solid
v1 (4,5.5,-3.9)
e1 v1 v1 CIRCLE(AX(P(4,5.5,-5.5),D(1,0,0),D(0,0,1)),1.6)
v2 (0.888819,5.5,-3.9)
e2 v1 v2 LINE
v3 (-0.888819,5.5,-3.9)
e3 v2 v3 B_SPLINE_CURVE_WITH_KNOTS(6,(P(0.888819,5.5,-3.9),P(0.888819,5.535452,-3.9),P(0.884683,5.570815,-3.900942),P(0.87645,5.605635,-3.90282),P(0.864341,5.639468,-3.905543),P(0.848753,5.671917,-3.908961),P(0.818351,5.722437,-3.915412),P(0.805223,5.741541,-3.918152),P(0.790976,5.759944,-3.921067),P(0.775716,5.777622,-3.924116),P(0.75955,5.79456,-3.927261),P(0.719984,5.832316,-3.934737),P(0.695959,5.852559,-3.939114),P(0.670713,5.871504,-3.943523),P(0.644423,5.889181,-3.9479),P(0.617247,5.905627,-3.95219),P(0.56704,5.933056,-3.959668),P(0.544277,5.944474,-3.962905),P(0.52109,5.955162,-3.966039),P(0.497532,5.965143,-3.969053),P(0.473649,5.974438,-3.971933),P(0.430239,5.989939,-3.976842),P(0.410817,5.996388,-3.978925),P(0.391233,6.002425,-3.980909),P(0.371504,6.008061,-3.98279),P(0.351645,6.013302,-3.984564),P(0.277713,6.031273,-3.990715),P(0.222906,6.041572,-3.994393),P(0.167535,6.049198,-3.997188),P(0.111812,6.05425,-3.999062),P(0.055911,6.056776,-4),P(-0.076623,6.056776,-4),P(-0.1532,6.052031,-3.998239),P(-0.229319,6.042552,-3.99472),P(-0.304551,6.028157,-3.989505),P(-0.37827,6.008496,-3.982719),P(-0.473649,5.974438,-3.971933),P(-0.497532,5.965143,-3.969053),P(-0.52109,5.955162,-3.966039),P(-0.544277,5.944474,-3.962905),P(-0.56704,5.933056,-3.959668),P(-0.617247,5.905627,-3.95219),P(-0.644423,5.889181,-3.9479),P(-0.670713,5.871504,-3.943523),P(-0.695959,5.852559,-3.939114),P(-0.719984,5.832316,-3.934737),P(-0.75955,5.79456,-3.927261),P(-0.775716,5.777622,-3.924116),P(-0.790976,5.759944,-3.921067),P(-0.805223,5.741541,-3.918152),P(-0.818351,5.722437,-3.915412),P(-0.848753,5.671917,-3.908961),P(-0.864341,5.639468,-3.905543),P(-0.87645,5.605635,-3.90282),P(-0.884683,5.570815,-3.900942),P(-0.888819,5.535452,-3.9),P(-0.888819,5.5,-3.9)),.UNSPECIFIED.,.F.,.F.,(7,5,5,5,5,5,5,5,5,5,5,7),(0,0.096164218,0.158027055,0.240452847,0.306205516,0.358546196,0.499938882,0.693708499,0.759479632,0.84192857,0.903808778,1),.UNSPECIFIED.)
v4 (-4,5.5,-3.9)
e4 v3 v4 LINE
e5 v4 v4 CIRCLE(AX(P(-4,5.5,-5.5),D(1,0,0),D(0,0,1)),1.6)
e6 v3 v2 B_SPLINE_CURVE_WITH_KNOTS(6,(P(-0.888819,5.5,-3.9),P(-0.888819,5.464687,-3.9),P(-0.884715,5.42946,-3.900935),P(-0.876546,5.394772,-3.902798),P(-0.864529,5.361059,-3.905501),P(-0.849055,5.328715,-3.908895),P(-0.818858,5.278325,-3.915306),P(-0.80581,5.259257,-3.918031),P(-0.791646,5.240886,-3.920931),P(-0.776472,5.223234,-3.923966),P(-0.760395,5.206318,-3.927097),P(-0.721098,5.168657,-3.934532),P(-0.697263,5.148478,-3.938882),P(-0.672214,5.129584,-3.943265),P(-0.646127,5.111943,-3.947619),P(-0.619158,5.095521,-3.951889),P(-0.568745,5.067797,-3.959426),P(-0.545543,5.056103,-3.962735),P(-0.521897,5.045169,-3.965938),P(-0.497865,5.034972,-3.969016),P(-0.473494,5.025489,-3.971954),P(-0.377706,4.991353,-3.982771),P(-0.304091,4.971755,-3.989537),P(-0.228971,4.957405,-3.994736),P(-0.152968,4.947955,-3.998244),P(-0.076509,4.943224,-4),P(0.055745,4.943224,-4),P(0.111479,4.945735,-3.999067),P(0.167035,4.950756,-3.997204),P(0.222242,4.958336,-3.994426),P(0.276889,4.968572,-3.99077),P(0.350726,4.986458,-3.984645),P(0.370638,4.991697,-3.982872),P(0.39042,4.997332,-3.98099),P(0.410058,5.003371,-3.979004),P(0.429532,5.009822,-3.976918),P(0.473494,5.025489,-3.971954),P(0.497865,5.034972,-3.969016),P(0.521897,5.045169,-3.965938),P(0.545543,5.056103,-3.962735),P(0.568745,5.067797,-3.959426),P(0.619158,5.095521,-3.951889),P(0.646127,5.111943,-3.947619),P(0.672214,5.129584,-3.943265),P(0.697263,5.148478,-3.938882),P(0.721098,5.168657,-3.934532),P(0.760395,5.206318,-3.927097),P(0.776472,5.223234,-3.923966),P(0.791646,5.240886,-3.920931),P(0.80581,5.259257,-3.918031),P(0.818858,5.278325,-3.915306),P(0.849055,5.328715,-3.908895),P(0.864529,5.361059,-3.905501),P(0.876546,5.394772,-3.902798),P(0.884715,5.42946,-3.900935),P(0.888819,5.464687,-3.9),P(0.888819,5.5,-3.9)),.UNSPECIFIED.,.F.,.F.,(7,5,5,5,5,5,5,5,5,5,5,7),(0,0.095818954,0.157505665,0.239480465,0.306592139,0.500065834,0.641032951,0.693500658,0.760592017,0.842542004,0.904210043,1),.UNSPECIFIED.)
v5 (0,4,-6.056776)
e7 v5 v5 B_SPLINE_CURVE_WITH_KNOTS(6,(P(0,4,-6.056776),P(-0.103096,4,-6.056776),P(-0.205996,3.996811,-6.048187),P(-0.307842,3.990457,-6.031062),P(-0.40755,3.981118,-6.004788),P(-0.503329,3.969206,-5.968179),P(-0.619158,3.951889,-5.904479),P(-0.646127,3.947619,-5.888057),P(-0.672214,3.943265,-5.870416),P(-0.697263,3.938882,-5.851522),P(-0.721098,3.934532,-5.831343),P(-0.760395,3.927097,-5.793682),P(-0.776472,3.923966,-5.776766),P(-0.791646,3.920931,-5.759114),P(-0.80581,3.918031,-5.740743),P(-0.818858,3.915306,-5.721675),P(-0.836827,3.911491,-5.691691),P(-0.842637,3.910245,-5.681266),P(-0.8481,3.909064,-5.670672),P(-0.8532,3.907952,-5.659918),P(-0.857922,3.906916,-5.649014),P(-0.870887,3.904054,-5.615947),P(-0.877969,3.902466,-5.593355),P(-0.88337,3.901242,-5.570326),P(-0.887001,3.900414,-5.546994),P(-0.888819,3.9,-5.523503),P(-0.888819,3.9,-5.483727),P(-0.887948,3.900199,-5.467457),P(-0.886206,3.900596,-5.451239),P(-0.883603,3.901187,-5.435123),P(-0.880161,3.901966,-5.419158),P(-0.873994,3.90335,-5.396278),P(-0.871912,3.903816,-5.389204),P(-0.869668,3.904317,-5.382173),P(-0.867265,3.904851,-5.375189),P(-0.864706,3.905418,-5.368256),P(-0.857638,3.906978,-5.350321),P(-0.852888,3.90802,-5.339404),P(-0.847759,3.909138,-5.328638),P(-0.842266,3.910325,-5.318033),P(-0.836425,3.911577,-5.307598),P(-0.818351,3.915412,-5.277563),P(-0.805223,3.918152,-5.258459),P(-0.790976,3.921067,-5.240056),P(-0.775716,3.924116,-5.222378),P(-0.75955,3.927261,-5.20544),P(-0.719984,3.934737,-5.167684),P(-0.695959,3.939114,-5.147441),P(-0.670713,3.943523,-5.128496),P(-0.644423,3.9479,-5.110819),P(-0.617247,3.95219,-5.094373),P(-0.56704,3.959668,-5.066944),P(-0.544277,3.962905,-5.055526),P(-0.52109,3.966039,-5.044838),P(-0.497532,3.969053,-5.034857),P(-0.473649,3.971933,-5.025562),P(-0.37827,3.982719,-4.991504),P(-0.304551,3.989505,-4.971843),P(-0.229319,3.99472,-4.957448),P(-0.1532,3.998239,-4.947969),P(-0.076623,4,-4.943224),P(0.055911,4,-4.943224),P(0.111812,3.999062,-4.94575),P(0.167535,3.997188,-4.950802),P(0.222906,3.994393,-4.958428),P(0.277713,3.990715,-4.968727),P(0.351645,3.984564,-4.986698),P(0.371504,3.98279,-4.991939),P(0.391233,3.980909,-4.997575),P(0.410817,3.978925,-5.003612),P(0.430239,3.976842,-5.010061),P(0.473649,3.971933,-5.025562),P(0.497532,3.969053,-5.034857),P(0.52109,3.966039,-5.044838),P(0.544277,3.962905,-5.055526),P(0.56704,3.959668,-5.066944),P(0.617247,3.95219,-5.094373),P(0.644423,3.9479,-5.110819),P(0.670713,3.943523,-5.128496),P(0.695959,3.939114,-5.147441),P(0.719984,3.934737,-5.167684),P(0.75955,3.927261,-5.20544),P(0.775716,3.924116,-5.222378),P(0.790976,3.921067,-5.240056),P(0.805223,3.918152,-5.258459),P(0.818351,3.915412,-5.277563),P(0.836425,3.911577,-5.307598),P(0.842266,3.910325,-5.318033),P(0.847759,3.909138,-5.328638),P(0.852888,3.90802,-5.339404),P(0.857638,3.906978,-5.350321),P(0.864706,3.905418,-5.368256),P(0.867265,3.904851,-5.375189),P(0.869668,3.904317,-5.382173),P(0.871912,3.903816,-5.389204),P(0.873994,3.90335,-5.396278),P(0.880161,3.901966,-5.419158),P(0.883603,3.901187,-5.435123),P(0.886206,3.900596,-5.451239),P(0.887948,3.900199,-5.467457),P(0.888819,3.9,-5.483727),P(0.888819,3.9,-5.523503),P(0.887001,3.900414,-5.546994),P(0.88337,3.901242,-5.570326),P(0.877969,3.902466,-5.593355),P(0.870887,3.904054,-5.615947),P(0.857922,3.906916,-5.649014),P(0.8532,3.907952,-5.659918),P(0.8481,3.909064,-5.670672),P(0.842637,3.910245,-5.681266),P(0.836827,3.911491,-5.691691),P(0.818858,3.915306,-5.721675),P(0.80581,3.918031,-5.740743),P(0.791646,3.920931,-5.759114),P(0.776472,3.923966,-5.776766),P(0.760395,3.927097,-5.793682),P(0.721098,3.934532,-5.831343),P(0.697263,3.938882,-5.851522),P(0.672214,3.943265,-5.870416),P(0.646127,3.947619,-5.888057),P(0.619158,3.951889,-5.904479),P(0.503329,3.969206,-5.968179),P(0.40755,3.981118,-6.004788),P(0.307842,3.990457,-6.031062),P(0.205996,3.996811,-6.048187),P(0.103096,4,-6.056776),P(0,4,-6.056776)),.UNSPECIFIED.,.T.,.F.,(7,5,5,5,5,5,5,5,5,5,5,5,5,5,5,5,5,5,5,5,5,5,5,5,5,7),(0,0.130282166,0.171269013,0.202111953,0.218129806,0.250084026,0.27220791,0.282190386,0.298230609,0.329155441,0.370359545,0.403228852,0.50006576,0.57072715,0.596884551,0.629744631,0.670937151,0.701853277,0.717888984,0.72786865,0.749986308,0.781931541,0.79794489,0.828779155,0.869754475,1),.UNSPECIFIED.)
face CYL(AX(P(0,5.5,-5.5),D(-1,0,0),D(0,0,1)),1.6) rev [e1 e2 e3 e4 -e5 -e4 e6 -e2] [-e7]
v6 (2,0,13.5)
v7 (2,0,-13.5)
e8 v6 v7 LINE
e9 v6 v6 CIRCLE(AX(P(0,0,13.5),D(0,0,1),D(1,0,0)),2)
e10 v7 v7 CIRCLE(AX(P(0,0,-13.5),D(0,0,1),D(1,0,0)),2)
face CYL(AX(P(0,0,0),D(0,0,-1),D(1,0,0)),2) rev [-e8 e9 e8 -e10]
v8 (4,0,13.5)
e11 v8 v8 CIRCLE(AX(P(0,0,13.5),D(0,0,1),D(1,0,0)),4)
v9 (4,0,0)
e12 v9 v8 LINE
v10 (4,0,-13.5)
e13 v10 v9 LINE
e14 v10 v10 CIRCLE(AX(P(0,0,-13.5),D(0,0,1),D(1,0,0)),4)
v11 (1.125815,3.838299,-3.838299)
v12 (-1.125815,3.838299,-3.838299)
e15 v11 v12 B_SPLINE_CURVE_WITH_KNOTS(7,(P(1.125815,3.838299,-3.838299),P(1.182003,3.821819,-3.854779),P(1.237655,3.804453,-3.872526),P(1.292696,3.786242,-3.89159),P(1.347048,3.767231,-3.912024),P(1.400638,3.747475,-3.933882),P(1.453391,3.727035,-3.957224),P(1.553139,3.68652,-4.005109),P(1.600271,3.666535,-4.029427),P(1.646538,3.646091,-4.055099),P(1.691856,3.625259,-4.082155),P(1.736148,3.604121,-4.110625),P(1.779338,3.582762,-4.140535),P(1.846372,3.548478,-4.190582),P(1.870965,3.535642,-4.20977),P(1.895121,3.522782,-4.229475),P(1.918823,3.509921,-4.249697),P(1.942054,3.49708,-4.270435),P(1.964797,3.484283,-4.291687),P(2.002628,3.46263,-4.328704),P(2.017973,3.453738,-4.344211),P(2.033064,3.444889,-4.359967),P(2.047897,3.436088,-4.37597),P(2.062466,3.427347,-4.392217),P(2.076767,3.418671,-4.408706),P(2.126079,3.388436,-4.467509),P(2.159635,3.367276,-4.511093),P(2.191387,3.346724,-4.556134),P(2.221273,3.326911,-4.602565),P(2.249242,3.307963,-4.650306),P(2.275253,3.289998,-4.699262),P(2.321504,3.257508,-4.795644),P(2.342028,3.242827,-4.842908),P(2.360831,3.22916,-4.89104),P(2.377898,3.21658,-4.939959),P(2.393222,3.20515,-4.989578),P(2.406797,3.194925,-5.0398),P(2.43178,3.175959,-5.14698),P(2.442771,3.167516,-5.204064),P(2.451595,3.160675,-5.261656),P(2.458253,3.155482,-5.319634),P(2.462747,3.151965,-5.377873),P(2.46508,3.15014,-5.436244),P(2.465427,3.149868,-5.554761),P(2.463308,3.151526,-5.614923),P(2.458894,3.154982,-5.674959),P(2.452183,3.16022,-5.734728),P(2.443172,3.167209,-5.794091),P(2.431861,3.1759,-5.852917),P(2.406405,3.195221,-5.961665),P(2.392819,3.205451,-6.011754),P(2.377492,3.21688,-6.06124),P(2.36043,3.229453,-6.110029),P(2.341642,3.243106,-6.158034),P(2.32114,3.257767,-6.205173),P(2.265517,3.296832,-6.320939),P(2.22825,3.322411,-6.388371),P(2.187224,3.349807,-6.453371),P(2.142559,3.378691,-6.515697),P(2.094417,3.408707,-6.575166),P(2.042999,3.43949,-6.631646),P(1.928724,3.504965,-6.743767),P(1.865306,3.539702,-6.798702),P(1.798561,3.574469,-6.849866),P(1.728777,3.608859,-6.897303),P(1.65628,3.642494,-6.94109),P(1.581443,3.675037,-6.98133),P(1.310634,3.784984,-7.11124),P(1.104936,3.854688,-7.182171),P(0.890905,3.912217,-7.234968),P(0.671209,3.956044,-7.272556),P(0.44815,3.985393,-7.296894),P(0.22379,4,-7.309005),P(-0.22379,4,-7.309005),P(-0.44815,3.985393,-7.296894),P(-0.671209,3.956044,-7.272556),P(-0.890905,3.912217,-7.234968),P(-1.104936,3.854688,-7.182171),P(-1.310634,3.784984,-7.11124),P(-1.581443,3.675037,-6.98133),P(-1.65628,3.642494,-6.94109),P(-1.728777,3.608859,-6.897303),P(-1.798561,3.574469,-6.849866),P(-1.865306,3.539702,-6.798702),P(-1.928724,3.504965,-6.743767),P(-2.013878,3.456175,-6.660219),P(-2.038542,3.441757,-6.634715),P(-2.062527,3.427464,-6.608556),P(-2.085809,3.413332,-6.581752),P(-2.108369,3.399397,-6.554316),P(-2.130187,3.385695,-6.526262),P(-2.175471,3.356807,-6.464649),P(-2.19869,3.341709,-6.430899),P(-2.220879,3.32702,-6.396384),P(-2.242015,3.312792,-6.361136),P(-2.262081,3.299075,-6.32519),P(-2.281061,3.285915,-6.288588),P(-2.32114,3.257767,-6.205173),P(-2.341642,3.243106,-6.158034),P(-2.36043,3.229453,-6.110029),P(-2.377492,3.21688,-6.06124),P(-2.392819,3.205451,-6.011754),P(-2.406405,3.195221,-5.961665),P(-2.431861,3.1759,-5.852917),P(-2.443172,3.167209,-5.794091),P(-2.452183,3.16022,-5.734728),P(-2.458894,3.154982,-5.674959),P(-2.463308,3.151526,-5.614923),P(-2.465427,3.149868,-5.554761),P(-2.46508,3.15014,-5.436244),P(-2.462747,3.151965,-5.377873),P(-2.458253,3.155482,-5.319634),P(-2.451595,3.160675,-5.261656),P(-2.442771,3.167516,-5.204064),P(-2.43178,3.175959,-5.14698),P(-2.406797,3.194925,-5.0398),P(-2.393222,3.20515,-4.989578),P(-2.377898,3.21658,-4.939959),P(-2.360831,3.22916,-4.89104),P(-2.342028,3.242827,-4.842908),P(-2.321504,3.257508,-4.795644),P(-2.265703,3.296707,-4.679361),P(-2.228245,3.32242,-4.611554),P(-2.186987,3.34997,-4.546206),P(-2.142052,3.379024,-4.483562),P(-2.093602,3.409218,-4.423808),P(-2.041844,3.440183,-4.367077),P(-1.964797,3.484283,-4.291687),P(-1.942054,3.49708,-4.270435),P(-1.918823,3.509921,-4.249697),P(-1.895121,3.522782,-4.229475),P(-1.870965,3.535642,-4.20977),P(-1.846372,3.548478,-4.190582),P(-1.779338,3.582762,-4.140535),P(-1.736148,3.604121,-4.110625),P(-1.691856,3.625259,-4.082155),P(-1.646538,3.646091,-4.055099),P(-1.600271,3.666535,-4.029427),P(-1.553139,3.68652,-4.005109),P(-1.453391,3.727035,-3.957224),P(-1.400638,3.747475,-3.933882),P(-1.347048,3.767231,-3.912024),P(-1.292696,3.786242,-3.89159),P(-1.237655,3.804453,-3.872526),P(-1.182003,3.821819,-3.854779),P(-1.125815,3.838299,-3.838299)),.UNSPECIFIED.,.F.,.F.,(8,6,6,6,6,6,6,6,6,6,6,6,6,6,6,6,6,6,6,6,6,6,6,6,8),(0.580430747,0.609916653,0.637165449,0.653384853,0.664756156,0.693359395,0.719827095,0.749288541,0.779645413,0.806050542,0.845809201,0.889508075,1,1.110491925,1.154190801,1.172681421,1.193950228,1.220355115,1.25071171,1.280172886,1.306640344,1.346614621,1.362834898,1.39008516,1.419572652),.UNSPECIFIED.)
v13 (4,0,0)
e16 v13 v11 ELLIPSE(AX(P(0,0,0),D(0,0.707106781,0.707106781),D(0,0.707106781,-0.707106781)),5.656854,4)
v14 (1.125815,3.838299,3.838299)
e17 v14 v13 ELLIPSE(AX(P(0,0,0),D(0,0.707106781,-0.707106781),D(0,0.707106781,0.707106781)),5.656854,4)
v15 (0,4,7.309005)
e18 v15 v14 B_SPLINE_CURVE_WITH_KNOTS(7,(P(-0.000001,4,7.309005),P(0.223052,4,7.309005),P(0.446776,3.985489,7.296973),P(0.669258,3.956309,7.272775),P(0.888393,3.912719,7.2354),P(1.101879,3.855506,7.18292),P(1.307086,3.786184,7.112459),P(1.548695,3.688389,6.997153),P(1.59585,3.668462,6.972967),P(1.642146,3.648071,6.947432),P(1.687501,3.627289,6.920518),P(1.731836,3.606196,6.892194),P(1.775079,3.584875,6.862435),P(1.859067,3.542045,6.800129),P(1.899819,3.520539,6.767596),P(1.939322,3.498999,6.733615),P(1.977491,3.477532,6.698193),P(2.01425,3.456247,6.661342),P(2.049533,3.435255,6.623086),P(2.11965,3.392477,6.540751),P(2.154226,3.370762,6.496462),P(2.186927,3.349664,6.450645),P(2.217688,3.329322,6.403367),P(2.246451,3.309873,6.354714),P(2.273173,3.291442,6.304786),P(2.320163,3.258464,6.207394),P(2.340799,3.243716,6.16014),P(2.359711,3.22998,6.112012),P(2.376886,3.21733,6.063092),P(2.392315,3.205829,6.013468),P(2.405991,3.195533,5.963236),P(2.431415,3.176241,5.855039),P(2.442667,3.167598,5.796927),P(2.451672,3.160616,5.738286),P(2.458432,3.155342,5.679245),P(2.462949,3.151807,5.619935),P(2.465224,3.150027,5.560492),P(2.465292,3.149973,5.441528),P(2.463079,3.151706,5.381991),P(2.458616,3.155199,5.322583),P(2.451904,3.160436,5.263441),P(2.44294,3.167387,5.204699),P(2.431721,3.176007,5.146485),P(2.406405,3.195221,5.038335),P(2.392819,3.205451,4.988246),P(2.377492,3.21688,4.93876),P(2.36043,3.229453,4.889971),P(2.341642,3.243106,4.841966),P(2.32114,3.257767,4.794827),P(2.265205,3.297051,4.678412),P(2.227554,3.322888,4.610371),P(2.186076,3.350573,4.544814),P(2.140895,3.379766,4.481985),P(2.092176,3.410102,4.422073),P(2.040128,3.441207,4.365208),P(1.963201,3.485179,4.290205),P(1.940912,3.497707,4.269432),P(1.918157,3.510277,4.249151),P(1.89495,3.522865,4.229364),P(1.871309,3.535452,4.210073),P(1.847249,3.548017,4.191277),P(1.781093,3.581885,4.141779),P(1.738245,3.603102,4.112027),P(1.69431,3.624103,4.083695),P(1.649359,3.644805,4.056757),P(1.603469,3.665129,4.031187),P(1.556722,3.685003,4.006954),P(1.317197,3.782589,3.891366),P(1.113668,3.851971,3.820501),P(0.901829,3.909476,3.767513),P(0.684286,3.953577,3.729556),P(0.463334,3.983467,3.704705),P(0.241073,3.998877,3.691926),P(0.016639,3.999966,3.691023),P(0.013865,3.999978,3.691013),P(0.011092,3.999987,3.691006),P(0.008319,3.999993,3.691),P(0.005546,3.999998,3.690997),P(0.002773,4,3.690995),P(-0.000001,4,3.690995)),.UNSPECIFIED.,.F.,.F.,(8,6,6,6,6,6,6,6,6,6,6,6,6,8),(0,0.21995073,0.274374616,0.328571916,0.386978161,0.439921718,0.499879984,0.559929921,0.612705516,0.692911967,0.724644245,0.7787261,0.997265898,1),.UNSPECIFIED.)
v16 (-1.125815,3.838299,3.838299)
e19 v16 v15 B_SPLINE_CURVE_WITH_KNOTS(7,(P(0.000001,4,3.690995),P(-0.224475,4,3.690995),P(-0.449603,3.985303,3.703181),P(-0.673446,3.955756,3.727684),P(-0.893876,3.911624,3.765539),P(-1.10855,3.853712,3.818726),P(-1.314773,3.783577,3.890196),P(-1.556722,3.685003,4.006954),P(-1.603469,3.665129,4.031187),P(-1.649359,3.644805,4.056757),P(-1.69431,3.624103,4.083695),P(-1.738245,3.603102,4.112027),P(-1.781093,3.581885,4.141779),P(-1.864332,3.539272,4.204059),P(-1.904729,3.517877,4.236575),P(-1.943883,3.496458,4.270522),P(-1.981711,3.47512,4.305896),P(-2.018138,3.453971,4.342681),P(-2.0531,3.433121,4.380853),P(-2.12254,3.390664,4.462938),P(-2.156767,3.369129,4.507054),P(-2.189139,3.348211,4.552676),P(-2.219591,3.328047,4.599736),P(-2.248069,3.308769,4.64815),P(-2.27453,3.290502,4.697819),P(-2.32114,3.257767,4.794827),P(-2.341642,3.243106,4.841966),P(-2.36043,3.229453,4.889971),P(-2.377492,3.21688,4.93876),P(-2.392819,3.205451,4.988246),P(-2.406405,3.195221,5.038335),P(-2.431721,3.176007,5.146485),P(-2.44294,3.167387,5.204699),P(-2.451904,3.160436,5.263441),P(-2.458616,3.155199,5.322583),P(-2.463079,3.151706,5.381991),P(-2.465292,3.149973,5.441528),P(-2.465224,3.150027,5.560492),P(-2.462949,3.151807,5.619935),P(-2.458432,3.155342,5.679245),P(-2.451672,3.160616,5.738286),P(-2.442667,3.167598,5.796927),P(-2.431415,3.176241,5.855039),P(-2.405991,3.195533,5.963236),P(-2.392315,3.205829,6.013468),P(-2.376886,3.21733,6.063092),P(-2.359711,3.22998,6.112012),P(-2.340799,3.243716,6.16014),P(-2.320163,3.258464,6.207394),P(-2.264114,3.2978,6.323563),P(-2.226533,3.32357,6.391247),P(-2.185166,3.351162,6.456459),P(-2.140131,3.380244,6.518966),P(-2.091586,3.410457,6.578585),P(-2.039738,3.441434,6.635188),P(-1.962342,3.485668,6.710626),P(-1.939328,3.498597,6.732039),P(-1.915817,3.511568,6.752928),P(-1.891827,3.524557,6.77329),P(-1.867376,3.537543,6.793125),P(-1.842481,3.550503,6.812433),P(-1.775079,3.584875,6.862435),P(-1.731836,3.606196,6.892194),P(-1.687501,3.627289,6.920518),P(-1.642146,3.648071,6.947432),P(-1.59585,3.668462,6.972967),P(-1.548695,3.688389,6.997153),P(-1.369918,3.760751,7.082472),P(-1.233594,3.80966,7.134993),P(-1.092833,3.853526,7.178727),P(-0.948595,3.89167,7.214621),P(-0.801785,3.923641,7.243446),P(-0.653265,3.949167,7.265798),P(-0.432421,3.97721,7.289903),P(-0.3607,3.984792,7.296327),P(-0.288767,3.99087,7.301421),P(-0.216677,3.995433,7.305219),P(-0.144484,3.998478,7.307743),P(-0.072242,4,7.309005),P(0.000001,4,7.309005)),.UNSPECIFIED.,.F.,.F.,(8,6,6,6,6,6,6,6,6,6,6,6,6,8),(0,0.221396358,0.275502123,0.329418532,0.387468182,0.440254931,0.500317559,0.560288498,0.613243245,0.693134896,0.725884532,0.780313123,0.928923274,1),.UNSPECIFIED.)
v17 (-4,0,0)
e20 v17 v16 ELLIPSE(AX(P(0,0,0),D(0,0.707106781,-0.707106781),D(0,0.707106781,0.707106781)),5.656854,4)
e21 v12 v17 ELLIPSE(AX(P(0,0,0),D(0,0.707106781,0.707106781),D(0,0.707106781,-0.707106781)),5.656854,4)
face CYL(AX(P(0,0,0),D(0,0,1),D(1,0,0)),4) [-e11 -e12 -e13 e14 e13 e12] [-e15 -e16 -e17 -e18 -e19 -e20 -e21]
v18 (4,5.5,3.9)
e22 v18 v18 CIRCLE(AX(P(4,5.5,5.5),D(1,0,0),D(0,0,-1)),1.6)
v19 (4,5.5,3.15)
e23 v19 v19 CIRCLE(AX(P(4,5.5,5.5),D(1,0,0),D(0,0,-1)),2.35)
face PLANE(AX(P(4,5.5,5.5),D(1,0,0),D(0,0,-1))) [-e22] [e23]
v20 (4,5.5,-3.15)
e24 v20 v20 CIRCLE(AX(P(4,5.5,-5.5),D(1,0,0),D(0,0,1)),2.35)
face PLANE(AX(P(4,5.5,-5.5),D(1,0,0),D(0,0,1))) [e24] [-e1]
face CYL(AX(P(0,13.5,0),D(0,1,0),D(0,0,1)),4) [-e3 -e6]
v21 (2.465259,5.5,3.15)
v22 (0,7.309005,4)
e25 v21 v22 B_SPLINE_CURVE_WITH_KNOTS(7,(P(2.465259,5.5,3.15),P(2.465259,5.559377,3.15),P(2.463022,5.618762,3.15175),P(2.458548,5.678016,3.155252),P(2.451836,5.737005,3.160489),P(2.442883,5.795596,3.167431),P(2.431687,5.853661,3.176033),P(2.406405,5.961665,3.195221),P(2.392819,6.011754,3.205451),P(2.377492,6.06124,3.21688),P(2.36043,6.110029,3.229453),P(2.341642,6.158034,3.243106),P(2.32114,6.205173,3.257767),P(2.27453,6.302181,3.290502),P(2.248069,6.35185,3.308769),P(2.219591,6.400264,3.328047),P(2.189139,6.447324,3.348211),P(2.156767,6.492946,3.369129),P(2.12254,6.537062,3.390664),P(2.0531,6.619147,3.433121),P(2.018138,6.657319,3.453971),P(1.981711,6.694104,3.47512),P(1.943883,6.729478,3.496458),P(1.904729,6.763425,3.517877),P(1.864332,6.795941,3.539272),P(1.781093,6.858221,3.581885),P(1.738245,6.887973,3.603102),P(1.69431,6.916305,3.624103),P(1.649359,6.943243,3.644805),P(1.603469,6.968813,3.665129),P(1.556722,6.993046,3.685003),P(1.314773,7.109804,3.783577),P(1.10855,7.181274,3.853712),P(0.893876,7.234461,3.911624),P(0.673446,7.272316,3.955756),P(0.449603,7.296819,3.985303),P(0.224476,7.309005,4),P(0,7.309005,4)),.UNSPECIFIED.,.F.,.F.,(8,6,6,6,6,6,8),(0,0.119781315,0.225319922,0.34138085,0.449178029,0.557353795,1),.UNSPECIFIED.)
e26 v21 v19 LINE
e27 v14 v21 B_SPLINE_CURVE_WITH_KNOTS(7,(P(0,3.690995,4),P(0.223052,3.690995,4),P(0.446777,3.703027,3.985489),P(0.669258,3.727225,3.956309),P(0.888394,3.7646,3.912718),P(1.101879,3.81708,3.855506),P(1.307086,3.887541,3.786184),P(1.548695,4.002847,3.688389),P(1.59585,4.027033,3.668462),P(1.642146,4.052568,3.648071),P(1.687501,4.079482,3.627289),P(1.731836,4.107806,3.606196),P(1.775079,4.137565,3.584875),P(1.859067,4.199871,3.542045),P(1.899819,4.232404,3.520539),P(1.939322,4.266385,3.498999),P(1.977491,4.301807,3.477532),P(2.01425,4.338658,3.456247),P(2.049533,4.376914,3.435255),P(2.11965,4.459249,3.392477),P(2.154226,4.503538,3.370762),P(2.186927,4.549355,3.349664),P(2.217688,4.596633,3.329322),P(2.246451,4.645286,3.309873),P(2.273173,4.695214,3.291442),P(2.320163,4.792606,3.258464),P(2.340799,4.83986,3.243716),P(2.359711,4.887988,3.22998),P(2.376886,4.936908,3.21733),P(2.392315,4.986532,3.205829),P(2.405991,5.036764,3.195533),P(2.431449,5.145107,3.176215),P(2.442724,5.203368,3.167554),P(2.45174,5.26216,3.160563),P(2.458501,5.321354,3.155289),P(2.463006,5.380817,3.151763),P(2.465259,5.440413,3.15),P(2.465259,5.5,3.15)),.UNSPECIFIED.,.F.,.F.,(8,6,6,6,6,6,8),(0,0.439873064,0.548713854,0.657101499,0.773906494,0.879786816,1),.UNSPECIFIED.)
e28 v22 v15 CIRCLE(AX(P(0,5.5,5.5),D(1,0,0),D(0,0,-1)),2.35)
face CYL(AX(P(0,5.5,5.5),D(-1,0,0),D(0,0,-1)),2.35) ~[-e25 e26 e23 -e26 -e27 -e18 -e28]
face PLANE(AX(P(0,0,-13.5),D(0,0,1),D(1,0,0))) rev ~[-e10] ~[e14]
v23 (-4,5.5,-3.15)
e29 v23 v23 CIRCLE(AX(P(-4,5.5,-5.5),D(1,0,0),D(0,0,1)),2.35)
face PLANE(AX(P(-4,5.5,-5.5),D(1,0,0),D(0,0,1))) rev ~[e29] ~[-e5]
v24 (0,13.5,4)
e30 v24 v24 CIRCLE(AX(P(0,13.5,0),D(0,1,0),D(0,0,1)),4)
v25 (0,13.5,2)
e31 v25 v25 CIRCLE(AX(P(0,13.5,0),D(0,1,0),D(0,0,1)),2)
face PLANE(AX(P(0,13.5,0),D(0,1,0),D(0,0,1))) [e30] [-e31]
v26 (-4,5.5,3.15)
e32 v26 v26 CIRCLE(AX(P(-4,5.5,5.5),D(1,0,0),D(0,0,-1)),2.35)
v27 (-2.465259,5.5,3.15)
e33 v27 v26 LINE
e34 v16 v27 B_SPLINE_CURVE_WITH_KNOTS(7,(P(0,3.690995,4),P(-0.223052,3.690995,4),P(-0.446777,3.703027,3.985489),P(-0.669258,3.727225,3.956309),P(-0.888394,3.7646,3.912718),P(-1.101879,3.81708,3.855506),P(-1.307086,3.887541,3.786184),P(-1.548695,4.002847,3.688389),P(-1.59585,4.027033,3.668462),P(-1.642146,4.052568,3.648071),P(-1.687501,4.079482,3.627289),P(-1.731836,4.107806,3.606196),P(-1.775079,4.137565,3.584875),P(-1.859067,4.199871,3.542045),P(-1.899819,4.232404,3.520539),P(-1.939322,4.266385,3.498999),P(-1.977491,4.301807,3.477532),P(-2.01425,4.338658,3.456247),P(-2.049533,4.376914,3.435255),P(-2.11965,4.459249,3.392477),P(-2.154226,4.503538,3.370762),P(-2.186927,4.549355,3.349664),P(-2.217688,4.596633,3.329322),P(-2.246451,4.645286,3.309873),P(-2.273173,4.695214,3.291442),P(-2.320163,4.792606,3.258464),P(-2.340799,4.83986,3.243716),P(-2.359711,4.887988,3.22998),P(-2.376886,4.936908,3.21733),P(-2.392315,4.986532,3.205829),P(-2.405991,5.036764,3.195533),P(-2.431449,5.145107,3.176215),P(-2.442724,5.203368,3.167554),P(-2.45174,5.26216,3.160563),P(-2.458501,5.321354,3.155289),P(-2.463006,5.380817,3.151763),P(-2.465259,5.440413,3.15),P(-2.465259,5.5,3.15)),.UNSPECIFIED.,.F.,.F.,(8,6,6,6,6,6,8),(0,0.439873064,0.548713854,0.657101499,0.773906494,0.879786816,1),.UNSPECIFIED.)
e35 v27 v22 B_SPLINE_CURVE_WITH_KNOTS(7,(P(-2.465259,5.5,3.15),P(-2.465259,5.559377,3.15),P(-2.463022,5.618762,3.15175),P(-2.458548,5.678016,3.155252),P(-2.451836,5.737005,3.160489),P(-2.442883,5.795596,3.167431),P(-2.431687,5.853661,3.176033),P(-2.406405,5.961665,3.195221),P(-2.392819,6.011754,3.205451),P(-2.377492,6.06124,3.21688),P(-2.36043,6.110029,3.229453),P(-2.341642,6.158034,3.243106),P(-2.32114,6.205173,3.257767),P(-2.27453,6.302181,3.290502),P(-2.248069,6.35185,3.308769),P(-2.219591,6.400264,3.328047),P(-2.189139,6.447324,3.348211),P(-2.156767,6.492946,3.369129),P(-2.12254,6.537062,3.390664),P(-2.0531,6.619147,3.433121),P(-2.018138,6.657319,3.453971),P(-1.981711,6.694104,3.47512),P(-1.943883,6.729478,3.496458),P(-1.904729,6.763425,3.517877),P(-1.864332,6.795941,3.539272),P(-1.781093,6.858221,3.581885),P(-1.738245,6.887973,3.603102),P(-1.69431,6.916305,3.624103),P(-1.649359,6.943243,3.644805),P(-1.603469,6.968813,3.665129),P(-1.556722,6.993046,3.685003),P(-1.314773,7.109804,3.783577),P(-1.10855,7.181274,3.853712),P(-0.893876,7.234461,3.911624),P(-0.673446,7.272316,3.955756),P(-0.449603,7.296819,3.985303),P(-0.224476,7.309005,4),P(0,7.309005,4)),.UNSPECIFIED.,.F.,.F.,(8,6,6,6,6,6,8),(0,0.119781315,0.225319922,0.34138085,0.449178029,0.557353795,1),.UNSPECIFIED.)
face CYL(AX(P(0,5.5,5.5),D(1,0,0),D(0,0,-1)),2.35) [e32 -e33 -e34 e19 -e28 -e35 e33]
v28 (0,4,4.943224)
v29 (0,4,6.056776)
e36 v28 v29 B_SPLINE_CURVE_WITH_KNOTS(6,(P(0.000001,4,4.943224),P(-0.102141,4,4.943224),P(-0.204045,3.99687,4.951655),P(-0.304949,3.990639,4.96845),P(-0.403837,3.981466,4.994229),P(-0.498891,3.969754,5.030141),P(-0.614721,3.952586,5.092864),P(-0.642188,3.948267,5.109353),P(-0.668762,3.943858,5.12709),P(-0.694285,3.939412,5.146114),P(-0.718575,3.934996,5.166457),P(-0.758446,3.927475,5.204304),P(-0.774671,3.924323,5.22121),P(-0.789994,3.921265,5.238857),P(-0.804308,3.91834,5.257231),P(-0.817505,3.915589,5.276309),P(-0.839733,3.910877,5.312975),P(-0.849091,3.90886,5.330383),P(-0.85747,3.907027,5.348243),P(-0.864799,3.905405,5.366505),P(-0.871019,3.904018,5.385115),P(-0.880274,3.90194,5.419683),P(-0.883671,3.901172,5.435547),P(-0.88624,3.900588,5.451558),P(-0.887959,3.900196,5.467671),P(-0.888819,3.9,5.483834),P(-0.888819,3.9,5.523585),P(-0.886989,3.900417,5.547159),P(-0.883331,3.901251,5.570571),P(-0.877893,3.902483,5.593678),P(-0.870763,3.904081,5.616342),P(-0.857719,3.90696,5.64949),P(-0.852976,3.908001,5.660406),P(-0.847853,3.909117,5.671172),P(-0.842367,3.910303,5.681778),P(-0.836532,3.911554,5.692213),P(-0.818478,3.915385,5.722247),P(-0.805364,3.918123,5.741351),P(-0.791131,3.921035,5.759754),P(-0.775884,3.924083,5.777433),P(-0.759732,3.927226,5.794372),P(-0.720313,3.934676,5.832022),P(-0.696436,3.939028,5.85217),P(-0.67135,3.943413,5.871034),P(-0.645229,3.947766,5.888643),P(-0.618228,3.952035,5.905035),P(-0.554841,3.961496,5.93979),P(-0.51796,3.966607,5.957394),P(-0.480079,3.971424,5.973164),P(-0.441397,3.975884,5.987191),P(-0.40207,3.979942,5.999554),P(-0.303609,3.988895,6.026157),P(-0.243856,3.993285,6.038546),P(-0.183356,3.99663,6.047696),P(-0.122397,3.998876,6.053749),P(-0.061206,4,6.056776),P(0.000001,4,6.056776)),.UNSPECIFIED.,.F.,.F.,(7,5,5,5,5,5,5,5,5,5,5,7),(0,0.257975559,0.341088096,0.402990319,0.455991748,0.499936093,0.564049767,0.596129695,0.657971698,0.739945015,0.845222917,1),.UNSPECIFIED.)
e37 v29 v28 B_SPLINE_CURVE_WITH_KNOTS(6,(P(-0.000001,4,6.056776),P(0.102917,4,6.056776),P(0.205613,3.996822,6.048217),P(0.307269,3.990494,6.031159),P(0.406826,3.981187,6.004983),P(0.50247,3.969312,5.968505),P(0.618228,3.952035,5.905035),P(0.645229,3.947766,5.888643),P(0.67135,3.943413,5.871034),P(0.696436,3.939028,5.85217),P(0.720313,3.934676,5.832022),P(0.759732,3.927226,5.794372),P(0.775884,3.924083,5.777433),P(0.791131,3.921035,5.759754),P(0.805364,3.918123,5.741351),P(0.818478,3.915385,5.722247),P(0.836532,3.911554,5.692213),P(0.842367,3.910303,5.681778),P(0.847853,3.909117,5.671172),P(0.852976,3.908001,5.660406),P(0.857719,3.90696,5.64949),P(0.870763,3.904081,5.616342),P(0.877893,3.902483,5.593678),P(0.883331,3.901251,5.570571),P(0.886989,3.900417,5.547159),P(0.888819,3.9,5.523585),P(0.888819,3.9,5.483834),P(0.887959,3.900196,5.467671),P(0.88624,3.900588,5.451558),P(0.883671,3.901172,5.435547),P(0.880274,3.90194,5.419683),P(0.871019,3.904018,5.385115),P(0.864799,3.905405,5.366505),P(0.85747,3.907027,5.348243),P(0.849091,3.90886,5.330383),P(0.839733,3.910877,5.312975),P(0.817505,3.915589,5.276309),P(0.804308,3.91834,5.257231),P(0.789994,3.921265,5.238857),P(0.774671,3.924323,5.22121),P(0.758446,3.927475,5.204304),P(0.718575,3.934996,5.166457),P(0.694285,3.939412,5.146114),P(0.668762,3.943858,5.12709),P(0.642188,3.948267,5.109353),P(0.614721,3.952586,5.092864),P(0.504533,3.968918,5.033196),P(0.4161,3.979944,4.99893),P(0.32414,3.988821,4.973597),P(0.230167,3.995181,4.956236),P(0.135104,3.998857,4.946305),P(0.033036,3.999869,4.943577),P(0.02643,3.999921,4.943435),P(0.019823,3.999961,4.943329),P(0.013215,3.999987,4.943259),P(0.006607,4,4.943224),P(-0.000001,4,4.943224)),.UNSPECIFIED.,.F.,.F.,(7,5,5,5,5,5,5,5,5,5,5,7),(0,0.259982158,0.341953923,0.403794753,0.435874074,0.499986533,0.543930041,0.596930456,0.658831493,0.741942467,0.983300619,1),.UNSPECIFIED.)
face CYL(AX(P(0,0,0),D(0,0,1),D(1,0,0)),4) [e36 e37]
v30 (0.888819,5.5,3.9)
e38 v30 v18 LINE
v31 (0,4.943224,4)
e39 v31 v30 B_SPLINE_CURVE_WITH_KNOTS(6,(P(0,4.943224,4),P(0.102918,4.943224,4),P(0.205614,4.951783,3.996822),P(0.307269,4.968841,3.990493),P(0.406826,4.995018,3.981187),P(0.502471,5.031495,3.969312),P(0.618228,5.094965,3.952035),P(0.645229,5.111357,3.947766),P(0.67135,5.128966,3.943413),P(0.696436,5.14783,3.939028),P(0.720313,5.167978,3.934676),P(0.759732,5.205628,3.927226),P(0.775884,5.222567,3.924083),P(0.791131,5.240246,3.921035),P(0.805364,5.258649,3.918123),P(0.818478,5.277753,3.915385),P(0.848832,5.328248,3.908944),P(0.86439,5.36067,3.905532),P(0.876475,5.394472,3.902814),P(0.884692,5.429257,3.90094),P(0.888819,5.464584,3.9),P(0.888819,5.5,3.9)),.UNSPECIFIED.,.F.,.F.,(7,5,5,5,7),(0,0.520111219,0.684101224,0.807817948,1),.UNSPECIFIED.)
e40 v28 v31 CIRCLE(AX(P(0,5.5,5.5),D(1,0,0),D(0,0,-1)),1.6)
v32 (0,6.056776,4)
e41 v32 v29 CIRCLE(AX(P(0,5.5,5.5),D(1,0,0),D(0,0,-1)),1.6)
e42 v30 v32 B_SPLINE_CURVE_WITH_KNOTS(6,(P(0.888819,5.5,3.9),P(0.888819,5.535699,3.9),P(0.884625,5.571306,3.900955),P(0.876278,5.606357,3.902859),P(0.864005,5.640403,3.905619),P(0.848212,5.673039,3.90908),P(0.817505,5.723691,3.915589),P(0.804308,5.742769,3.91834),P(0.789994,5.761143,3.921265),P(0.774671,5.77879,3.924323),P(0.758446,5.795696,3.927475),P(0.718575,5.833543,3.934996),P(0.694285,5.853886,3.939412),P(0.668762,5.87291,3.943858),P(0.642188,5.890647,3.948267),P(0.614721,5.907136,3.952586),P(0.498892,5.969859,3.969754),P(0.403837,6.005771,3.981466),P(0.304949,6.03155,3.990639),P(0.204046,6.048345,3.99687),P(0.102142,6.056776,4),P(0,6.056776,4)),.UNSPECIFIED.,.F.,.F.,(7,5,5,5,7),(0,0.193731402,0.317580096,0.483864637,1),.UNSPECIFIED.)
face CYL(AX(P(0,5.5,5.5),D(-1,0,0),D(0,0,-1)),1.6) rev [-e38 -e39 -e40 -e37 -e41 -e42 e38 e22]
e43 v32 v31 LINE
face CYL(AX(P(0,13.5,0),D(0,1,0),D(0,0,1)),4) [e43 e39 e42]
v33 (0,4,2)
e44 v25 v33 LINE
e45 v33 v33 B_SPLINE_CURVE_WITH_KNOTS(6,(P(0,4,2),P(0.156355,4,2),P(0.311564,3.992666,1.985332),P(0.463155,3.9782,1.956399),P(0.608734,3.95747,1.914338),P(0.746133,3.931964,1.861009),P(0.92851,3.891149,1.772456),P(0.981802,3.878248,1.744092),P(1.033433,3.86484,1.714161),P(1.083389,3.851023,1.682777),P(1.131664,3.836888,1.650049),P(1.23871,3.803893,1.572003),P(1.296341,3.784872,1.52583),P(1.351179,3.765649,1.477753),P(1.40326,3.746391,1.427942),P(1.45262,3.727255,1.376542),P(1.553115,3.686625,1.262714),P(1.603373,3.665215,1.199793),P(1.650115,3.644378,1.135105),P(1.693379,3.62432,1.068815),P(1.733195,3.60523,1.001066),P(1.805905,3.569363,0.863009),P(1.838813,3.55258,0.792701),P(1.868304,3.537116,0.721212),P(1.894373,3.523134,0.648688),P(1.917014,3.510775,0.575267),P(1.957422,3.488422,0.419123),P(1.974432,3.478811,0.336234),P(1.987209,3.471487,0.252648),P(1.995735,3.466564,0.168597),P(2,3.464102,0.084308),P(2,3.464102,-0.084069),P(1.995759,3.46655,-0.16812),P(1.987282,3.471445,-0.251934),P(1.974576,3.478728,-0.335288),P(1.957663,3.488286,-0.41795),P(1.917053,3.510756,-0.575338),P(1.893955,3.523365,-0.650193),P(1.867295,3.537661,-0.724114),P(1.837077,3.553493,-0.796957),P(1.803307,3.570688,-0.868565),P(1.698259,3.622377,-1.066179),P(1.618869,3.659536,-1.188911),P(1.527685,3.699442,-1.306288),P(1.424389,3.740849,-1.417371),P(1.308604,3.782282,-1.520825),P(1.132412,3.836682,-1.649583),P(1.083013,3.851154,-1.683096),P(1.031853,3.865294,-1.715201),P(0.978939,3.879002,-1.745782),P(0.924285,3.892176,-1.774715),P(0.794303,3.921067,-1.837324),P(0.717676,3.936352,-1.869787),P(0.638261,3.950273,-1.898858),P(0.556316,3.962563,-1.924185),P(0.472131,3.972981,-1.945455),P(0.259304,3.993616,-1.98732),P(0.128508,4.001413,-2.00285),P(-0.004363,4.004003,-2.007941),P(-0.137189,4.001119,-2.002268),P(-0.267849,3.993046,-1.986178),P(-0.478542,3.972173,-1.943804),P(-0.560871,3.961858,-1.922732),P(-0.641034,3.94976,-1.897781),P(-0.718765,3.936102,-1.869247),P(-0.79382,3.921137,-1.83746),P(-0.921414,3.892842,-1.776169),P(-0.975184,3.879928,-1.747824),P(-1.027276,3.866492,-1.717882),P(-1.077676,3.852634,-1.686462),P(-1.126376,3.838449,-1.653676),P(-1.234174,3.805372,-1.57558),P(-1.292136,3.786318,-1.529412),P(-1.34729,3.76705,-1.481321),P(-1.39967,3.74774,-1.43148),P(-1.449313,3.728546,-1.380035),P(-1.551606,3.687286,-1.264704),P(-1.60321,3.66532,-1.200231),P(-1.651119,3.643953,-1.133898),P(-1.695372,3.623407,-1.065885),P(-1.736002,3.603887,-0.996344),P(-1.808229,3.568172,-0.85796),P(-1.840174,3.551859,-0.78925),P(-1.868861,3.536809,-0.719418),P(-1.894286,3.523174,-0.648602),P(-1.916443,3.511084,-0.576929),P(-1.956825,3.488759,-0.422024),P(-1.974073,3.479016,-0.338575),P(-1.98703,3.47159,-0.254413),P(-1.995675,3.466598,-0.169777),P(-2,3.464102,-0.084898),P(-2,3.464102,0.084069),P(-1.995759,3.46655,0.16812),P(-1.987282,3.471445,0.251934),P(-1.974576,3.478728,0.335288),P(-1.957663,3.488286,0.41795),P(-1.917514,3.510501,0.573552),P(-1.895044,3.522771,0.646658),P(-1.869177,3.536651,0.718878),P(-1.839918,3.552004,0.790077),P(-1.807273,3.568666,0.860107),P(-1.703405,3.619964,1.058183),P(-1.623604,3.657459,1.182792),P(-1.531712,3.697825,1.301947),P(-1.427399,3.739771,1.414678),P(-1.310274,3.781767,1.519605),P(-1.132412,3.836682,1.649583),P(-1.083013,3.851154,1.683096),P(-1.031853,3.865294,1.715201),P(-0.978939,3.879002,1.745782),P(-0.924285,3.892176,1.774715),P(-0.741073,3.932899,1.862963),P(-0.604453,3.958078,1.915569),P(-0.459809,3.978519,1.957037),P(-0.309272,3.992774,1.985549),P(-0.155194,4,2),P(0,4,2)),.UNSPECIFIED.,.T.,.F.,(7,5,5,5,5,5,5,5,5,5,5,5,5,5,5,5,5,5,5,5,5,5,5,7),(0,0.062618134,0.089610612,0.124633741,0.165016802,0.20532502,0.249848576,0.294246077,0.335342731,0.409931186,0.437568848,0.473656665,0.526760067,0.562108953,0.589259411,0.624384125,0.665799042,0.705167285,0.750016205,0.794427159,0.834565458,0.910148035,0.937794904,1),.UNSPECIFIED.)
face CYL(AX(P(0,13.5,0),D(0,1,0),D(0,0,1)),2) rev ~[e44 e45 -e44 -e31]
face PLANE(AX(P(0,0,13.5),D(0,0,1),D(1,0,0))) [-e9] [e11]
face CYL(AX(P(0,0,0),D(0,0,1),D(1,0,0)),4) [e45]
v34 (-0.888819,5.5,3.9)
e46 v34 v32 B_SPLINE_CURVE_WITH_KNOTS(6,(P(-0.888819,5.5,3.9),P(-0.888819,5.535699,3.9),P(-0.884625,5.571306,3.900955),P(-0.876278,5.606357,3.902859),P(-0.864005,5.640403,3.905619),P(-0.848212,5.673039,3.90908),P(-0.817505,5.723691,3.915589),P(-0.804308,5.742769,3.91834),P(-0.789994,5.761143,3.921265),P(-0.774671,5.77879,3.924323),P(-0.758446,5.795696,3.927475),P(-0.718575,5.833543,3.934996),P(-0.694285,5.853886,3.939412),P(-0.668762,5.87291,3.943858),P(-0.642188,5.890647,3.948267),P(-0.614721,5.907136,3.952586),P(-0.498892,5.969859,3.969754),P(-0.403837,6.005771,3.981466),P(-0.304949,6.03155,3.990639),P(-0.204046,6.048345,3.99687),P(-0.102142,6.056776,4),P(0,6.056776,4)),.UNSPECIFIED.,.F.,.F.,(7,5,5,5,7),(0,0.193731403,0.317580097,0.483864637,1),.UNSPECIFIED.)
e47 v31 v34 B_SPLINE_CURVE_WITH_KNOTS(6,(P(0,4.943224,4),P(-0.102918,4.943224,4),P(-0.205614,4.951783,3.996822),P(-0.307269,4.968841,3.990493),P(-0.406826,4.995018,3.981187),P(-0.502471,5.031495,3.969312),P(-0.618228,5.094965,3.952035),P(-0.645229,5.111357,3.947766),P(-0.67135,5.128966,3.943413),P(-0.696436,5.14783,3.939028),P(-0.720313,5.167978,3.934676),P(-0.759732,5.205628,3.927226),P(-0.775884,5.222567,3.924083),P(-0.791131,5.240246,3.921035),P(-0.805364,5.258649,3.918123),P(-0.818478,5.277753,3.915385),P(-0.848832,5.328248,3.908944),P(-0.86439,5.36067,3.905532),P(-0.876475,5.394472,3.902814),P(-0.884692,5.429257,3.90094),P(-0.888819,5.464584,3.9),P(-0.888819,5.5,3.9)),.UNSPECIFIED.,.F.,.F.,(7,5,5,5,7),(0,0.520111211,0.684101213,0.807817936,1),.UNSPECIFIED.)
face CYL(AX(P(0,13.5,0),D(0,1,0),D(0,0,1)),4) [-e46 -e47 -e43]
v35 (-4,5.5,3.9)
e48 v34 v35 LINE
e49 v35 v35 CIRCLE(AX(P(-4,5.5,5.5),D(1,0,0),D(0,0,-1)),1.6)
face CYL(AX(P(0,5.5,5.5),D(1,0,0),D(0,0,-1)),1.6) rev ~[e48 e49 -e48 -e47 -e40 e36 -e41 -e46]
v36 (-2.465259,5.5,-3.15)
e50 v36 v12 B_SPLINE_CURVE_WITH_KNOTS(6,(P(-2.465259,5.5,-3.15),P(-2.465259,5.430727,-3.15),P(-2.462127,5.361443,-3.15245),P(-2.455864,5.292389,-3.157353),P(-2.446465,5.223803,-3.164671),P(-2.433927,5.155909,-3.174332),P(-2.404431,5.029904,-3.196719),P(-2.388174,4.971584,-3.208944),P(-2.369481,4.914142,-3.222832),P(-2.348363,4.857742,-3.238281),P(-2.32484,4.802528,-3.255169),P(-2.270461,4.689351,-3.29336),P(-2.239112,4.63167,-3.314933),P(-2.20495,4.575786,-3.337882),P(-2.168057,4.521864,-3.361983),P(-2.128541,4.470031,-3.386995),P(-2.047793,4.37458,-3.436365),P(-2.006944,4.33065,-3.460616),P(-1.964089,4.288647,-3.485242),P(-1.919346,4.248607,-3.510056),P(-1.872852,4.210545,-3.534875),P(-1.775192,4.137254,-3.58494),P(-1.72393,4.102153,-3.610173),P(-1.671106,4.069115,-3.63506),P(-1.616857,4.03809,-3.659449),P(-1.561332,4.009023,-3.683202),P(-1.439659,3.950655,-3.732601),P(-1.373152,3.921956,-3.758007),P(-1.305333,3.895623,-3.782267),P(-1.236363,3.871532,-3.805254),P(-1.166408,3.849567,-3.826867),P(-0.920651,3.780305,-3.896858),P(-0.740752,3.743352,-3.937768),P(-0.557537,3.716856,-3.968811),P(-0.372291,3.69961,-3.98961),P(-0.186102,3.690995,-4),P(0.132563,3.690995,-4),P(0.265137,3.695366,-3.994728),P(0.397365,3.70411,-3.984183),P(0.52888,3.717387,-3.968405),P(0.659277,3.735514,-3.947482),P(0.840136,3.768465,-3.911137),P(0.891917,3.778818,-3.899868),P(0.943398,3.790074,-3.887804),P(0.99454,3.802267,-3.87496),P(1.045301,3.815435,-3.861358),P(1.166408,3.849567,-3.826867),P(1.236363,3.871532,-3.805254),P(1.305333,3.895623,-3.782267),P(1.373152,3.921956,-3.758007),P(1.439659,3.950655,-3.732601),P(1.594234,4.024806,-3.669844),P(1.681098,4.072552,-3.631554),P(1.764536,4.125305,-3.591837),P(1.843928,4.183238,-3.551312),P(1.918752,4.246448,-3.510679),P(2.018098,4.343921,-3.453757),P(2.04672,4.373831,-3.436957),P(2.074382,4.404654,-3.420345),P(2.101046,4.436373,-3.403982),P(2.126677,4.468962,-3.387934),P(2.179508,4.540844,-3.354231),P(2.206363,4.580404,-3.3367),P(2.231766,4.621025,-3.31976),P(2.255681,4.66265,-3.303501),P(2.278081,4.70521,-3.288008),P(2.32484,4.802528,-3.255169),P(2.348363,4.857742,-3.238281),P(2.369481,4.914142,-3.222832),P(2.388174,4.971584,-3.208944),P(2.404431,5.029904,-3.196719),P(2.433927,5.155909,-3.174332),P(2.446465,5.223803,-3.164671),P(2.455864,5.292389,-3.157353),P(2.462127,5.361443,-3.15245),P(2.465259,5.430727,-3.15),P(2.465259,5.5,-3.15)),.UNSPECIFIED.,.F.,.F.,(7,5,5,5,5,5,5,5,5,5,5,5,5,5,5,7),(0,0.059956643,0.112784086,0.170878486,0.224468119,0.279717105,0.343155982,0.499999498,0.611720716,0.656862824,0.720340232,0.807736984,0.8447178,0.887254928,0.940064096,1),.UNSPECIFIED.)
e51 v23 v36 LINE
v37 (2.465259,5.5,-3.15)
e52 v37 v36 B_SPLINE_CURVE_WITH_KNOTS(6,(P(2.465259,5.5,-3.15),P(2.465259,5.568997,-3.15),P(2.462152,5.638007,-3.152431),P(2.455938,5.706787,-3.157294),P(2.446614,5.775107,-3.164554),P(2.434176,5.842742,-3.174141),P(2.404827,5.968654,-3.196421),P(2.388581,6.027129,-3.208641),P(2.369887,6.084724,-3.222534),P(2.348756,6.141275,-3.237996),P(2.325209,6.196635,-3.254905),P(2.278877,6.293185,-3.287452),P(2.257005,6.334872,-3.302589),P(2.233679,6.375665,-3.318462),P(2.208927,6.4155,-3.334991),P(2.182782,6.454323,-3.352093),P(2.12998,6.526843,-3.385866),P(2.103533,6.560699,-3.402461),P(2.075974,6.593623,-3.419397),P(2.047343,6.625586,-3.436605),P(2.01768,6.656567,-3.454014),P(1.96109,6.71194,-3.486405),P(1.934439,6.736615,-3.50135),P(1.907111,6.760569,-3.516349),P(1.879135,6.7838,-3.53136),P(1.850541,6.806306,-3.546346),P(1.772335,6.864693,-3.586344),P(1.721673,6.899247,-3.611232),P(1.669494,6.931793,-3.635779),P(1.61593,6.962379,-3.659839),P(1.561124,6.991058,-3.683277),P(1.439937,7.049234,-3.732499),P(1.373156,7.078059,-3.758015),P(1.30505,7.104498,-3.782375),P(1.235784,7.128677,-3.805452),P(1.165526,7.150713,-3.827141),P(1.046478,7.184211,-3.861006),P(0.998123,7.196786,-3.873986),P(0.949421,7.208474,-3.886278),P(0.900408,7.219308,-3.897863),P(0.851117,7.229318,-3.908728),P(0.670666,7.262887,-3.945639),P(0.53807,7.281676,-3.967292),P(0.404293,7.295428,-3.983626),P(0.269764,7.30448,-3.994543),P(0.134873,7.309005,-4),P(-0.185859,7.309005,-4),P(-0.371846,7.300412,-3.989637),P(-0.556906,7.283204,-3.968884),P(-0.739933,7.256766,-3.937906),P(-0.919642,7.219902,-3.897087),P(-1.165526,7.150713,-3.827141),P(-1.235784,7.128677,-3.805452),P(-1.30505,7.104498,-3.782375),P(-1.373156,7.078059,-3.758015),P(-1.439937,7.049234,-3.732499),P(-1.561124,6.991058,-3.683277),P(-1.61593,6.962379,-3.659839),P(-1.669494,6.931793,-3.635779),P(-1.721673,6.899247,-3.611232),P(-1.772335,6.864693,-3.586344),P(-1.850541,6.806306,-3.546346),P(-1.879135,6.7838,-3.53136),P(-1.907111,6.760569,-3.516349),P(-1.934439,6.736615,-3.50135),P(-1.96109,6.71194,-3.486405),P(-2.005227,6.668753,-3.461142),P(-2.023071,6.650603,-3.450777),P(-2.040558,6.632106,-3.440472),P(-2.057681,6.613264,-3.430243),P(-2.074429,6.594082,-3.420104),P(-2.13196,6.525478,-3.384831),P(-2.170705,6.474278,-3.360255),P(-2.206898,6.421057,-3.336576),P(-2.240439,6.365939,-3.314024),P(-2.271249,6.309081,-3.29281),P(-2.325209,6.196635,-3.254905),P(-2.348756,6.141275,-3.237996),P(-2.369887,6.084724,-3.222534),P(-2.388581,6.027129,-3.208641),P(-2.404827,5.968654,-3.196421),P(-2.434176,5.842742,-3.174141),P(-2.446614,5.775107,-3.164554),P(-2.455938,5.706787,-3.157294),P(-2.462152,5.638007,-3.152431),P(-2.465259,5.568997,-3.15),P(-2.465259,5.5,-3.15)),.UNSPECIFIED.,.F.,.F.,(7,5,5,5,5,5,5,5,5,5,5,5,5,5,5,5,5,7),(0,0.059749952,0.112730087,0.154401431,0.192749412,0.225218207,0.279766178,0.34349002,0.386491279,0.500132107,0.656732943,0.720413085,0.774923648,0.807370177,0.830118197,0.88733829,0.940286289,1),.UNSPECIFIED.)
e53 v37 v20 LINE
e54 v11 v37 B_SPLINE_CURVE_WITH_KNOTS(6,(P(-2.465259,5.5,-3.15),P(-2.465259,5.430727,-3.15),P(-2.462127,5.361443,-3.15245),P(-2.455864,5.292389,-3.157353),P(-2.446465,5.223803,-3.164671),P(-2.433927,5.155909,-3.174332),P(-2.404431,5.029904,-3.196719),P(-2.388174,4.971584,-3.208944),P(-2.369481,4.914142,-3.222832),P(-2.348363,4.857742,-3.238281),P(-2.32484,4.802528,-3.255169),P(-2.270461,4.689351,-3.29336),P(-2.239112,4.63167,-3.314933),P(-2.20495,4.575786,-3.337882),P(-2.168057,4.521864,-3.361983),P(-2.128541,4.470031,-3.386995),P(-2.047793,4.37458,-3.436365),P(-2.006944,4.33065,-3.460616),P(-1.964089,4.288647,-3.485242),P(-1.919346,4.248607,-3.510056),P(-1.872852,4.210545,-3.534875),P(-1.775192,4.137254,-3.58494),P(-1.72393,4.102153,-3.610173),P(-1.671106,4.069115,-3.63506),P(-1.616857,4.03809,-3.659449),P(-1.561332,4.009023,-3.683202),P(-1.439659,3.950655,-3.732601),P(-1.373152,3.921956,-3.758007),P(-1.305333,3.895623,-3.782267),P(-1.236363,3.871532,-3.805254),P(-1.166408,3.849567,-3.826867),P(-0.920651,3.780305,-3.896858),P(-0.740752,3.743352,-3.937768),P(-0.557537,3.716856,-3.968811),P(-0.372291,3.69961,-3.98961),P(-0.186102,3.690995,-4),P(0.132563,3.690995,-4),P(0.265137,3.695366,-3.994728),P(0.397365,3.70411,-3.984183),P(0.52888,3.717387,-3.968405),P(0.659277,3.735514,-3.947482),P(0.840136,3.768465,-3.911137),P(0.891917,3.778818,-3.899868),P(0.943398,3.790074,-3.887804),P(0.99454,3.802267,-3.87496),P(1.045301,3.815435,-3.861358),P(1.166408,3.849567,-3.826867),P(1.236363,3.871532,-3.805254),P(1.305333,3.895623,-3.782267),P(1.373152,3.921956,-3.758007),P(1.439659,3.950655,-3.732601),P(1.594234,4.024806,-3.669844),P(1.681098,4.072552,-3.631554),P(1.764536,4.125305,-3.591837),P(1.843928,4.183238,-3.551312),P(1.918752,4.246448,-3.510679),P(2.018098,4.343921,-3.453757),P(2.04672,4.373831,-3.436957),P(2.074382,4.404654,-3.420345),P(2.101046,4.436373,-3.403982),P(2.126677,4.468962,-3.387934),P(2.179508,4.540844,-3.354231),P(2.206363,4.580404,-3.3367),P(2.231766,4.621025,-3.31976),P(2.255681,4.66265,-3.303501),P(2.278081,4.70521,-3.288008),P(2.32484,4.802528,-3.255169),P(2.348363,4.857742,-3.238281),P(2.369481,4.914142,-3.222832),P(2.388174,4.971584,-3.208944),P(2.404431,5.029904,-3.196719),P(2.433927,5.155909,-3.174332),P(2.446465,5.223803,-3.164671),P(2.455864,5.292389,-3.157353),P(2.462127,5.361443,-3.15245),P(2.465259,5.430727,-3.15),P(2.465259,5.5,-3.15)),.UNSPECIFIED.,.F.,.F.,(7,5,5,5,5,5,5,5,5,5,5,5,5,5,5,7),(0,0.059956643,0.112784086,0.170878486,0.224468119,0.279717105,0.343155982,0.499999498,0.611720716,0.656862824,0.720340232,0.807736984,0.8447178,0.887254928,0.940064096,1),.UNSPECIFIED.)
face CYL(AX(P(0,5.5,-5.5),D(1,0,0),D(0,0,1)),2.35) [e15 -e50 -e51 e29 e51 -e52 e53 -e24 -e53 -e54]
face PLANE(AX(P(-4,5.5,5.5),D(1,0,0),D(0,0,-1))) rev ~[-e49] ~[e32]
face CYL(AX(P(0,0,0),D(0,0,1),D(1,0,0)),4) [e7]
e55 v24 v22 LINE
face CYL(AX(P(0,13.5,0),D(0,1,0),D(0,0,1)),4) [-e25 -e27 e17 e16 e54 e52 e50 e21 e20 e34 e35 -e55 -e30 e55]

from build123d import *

# Parameters (mm, degrees)
ESQUISSE1_R             = 4
ESQUISSE1_R_2           = 2
BOSS_EXTRU_1_DEPTH      = 13.5
BOSS_EXTRU_2_REACH      = 30.137
BOSS_EXTRU_2_END_RADIUS = 4
BOSS_EXTRU_2_START      = 13.5
ESQUISSE2_R             = 4
ESQUISSE2_R_2           = 2
ESQUISSE3_R             = 2.35
ESQUISSE3_R_2           = 1.6
BOSS_EXTRU_3_DEPTH      = 4


with BuildPart() as part:
    # Esquisse1 → Boss.-Extru.1 (new, symmetric)
    with BuildSketch(Plane.XY):
        Circle(ESQUISSE1_R)
        Circle(ESQUISSE1_R_2, mode=Mode.SUBTRACT)
    extrude(amount=BOSS_EXTRU_1_DEPTH, both=True)

    # Boss.-Extru.2: up to this cylinder (the profile starts outside it)
    boss_extru_2_end = Plane(origin=(0, 0, -3.886863), z_dir=(0, 0, -1)) * Cylinder(BOSS_EXTRU_2_END_RADIUS, 69.274, mode=Mode.PRIVATE)
    # Esquisse2 → Boss.-Extru.2 (add, up to the surface)
    with BuildSketch(Plane(origin=(0, 0, 0), x_dir=(1, 0, 0), z_dir=(0, 1, 0)).offset(BOSS_EXTRU_2_START), mode=Mode.PRIVATE) as boss_extru_2_sk1:
        with Locations(Location((0, 0, 0), (0, 0, 270))):
            Circle(ESQUISSE2_R)
        with Locations(Location((0, 0, 0), (0, 0, 270))):
            Circle(ESQUISSE2_R_2, mode=Mode.SUBTRACT)
    boss_extru_2_tool1 = extrude(boss_extru_2_sk1.sketch, amount=-BOSS_EXTRU_2_REACH, mode=Mode.PRIVATE) - boss_extru_2_end
    add(boss_extru_2_tool1.solids().sort_by_distance((0, 13.5, -3.886863))[0])

    # Esquisse3 → Boss.-Extru.3 (add, symmetric)
    # profile 1 of 2: a face of its own
    with BuildSketch(Plane(origin=(0, 0, 0), x_dir=(0, 0, -1), z_dir=(1, 0, 0))):
        with Locations((-5.5, 5.5)):
            Circle(ESQUISSE3_R)
        with Locations((-5.5, 5.5)):
            Circle(ESQUISSE3_R_2, mode=Mode.SUBTRACT)
    # profile 2 of 2: a face of its own
    with BuildSketch(Plane(origin=(0, 0, 0), x_dir=(0, 0, -1), z_dir=(1, 0, 0))):
        with Locations(Location((5.5, 5.5, 0), (0, 0, 180))):
            Circle(ESQUISSE3_R)
        with Locations(Location((5.5, 5.5, 0), (0, 0, 180))):
            Circle(ESQUISSE3_R_2, mode=Mode.SUBTRACT)
    extrude(amount=BOSS_EXTRU_3_DEPTH, both=True)


solid = part.part
